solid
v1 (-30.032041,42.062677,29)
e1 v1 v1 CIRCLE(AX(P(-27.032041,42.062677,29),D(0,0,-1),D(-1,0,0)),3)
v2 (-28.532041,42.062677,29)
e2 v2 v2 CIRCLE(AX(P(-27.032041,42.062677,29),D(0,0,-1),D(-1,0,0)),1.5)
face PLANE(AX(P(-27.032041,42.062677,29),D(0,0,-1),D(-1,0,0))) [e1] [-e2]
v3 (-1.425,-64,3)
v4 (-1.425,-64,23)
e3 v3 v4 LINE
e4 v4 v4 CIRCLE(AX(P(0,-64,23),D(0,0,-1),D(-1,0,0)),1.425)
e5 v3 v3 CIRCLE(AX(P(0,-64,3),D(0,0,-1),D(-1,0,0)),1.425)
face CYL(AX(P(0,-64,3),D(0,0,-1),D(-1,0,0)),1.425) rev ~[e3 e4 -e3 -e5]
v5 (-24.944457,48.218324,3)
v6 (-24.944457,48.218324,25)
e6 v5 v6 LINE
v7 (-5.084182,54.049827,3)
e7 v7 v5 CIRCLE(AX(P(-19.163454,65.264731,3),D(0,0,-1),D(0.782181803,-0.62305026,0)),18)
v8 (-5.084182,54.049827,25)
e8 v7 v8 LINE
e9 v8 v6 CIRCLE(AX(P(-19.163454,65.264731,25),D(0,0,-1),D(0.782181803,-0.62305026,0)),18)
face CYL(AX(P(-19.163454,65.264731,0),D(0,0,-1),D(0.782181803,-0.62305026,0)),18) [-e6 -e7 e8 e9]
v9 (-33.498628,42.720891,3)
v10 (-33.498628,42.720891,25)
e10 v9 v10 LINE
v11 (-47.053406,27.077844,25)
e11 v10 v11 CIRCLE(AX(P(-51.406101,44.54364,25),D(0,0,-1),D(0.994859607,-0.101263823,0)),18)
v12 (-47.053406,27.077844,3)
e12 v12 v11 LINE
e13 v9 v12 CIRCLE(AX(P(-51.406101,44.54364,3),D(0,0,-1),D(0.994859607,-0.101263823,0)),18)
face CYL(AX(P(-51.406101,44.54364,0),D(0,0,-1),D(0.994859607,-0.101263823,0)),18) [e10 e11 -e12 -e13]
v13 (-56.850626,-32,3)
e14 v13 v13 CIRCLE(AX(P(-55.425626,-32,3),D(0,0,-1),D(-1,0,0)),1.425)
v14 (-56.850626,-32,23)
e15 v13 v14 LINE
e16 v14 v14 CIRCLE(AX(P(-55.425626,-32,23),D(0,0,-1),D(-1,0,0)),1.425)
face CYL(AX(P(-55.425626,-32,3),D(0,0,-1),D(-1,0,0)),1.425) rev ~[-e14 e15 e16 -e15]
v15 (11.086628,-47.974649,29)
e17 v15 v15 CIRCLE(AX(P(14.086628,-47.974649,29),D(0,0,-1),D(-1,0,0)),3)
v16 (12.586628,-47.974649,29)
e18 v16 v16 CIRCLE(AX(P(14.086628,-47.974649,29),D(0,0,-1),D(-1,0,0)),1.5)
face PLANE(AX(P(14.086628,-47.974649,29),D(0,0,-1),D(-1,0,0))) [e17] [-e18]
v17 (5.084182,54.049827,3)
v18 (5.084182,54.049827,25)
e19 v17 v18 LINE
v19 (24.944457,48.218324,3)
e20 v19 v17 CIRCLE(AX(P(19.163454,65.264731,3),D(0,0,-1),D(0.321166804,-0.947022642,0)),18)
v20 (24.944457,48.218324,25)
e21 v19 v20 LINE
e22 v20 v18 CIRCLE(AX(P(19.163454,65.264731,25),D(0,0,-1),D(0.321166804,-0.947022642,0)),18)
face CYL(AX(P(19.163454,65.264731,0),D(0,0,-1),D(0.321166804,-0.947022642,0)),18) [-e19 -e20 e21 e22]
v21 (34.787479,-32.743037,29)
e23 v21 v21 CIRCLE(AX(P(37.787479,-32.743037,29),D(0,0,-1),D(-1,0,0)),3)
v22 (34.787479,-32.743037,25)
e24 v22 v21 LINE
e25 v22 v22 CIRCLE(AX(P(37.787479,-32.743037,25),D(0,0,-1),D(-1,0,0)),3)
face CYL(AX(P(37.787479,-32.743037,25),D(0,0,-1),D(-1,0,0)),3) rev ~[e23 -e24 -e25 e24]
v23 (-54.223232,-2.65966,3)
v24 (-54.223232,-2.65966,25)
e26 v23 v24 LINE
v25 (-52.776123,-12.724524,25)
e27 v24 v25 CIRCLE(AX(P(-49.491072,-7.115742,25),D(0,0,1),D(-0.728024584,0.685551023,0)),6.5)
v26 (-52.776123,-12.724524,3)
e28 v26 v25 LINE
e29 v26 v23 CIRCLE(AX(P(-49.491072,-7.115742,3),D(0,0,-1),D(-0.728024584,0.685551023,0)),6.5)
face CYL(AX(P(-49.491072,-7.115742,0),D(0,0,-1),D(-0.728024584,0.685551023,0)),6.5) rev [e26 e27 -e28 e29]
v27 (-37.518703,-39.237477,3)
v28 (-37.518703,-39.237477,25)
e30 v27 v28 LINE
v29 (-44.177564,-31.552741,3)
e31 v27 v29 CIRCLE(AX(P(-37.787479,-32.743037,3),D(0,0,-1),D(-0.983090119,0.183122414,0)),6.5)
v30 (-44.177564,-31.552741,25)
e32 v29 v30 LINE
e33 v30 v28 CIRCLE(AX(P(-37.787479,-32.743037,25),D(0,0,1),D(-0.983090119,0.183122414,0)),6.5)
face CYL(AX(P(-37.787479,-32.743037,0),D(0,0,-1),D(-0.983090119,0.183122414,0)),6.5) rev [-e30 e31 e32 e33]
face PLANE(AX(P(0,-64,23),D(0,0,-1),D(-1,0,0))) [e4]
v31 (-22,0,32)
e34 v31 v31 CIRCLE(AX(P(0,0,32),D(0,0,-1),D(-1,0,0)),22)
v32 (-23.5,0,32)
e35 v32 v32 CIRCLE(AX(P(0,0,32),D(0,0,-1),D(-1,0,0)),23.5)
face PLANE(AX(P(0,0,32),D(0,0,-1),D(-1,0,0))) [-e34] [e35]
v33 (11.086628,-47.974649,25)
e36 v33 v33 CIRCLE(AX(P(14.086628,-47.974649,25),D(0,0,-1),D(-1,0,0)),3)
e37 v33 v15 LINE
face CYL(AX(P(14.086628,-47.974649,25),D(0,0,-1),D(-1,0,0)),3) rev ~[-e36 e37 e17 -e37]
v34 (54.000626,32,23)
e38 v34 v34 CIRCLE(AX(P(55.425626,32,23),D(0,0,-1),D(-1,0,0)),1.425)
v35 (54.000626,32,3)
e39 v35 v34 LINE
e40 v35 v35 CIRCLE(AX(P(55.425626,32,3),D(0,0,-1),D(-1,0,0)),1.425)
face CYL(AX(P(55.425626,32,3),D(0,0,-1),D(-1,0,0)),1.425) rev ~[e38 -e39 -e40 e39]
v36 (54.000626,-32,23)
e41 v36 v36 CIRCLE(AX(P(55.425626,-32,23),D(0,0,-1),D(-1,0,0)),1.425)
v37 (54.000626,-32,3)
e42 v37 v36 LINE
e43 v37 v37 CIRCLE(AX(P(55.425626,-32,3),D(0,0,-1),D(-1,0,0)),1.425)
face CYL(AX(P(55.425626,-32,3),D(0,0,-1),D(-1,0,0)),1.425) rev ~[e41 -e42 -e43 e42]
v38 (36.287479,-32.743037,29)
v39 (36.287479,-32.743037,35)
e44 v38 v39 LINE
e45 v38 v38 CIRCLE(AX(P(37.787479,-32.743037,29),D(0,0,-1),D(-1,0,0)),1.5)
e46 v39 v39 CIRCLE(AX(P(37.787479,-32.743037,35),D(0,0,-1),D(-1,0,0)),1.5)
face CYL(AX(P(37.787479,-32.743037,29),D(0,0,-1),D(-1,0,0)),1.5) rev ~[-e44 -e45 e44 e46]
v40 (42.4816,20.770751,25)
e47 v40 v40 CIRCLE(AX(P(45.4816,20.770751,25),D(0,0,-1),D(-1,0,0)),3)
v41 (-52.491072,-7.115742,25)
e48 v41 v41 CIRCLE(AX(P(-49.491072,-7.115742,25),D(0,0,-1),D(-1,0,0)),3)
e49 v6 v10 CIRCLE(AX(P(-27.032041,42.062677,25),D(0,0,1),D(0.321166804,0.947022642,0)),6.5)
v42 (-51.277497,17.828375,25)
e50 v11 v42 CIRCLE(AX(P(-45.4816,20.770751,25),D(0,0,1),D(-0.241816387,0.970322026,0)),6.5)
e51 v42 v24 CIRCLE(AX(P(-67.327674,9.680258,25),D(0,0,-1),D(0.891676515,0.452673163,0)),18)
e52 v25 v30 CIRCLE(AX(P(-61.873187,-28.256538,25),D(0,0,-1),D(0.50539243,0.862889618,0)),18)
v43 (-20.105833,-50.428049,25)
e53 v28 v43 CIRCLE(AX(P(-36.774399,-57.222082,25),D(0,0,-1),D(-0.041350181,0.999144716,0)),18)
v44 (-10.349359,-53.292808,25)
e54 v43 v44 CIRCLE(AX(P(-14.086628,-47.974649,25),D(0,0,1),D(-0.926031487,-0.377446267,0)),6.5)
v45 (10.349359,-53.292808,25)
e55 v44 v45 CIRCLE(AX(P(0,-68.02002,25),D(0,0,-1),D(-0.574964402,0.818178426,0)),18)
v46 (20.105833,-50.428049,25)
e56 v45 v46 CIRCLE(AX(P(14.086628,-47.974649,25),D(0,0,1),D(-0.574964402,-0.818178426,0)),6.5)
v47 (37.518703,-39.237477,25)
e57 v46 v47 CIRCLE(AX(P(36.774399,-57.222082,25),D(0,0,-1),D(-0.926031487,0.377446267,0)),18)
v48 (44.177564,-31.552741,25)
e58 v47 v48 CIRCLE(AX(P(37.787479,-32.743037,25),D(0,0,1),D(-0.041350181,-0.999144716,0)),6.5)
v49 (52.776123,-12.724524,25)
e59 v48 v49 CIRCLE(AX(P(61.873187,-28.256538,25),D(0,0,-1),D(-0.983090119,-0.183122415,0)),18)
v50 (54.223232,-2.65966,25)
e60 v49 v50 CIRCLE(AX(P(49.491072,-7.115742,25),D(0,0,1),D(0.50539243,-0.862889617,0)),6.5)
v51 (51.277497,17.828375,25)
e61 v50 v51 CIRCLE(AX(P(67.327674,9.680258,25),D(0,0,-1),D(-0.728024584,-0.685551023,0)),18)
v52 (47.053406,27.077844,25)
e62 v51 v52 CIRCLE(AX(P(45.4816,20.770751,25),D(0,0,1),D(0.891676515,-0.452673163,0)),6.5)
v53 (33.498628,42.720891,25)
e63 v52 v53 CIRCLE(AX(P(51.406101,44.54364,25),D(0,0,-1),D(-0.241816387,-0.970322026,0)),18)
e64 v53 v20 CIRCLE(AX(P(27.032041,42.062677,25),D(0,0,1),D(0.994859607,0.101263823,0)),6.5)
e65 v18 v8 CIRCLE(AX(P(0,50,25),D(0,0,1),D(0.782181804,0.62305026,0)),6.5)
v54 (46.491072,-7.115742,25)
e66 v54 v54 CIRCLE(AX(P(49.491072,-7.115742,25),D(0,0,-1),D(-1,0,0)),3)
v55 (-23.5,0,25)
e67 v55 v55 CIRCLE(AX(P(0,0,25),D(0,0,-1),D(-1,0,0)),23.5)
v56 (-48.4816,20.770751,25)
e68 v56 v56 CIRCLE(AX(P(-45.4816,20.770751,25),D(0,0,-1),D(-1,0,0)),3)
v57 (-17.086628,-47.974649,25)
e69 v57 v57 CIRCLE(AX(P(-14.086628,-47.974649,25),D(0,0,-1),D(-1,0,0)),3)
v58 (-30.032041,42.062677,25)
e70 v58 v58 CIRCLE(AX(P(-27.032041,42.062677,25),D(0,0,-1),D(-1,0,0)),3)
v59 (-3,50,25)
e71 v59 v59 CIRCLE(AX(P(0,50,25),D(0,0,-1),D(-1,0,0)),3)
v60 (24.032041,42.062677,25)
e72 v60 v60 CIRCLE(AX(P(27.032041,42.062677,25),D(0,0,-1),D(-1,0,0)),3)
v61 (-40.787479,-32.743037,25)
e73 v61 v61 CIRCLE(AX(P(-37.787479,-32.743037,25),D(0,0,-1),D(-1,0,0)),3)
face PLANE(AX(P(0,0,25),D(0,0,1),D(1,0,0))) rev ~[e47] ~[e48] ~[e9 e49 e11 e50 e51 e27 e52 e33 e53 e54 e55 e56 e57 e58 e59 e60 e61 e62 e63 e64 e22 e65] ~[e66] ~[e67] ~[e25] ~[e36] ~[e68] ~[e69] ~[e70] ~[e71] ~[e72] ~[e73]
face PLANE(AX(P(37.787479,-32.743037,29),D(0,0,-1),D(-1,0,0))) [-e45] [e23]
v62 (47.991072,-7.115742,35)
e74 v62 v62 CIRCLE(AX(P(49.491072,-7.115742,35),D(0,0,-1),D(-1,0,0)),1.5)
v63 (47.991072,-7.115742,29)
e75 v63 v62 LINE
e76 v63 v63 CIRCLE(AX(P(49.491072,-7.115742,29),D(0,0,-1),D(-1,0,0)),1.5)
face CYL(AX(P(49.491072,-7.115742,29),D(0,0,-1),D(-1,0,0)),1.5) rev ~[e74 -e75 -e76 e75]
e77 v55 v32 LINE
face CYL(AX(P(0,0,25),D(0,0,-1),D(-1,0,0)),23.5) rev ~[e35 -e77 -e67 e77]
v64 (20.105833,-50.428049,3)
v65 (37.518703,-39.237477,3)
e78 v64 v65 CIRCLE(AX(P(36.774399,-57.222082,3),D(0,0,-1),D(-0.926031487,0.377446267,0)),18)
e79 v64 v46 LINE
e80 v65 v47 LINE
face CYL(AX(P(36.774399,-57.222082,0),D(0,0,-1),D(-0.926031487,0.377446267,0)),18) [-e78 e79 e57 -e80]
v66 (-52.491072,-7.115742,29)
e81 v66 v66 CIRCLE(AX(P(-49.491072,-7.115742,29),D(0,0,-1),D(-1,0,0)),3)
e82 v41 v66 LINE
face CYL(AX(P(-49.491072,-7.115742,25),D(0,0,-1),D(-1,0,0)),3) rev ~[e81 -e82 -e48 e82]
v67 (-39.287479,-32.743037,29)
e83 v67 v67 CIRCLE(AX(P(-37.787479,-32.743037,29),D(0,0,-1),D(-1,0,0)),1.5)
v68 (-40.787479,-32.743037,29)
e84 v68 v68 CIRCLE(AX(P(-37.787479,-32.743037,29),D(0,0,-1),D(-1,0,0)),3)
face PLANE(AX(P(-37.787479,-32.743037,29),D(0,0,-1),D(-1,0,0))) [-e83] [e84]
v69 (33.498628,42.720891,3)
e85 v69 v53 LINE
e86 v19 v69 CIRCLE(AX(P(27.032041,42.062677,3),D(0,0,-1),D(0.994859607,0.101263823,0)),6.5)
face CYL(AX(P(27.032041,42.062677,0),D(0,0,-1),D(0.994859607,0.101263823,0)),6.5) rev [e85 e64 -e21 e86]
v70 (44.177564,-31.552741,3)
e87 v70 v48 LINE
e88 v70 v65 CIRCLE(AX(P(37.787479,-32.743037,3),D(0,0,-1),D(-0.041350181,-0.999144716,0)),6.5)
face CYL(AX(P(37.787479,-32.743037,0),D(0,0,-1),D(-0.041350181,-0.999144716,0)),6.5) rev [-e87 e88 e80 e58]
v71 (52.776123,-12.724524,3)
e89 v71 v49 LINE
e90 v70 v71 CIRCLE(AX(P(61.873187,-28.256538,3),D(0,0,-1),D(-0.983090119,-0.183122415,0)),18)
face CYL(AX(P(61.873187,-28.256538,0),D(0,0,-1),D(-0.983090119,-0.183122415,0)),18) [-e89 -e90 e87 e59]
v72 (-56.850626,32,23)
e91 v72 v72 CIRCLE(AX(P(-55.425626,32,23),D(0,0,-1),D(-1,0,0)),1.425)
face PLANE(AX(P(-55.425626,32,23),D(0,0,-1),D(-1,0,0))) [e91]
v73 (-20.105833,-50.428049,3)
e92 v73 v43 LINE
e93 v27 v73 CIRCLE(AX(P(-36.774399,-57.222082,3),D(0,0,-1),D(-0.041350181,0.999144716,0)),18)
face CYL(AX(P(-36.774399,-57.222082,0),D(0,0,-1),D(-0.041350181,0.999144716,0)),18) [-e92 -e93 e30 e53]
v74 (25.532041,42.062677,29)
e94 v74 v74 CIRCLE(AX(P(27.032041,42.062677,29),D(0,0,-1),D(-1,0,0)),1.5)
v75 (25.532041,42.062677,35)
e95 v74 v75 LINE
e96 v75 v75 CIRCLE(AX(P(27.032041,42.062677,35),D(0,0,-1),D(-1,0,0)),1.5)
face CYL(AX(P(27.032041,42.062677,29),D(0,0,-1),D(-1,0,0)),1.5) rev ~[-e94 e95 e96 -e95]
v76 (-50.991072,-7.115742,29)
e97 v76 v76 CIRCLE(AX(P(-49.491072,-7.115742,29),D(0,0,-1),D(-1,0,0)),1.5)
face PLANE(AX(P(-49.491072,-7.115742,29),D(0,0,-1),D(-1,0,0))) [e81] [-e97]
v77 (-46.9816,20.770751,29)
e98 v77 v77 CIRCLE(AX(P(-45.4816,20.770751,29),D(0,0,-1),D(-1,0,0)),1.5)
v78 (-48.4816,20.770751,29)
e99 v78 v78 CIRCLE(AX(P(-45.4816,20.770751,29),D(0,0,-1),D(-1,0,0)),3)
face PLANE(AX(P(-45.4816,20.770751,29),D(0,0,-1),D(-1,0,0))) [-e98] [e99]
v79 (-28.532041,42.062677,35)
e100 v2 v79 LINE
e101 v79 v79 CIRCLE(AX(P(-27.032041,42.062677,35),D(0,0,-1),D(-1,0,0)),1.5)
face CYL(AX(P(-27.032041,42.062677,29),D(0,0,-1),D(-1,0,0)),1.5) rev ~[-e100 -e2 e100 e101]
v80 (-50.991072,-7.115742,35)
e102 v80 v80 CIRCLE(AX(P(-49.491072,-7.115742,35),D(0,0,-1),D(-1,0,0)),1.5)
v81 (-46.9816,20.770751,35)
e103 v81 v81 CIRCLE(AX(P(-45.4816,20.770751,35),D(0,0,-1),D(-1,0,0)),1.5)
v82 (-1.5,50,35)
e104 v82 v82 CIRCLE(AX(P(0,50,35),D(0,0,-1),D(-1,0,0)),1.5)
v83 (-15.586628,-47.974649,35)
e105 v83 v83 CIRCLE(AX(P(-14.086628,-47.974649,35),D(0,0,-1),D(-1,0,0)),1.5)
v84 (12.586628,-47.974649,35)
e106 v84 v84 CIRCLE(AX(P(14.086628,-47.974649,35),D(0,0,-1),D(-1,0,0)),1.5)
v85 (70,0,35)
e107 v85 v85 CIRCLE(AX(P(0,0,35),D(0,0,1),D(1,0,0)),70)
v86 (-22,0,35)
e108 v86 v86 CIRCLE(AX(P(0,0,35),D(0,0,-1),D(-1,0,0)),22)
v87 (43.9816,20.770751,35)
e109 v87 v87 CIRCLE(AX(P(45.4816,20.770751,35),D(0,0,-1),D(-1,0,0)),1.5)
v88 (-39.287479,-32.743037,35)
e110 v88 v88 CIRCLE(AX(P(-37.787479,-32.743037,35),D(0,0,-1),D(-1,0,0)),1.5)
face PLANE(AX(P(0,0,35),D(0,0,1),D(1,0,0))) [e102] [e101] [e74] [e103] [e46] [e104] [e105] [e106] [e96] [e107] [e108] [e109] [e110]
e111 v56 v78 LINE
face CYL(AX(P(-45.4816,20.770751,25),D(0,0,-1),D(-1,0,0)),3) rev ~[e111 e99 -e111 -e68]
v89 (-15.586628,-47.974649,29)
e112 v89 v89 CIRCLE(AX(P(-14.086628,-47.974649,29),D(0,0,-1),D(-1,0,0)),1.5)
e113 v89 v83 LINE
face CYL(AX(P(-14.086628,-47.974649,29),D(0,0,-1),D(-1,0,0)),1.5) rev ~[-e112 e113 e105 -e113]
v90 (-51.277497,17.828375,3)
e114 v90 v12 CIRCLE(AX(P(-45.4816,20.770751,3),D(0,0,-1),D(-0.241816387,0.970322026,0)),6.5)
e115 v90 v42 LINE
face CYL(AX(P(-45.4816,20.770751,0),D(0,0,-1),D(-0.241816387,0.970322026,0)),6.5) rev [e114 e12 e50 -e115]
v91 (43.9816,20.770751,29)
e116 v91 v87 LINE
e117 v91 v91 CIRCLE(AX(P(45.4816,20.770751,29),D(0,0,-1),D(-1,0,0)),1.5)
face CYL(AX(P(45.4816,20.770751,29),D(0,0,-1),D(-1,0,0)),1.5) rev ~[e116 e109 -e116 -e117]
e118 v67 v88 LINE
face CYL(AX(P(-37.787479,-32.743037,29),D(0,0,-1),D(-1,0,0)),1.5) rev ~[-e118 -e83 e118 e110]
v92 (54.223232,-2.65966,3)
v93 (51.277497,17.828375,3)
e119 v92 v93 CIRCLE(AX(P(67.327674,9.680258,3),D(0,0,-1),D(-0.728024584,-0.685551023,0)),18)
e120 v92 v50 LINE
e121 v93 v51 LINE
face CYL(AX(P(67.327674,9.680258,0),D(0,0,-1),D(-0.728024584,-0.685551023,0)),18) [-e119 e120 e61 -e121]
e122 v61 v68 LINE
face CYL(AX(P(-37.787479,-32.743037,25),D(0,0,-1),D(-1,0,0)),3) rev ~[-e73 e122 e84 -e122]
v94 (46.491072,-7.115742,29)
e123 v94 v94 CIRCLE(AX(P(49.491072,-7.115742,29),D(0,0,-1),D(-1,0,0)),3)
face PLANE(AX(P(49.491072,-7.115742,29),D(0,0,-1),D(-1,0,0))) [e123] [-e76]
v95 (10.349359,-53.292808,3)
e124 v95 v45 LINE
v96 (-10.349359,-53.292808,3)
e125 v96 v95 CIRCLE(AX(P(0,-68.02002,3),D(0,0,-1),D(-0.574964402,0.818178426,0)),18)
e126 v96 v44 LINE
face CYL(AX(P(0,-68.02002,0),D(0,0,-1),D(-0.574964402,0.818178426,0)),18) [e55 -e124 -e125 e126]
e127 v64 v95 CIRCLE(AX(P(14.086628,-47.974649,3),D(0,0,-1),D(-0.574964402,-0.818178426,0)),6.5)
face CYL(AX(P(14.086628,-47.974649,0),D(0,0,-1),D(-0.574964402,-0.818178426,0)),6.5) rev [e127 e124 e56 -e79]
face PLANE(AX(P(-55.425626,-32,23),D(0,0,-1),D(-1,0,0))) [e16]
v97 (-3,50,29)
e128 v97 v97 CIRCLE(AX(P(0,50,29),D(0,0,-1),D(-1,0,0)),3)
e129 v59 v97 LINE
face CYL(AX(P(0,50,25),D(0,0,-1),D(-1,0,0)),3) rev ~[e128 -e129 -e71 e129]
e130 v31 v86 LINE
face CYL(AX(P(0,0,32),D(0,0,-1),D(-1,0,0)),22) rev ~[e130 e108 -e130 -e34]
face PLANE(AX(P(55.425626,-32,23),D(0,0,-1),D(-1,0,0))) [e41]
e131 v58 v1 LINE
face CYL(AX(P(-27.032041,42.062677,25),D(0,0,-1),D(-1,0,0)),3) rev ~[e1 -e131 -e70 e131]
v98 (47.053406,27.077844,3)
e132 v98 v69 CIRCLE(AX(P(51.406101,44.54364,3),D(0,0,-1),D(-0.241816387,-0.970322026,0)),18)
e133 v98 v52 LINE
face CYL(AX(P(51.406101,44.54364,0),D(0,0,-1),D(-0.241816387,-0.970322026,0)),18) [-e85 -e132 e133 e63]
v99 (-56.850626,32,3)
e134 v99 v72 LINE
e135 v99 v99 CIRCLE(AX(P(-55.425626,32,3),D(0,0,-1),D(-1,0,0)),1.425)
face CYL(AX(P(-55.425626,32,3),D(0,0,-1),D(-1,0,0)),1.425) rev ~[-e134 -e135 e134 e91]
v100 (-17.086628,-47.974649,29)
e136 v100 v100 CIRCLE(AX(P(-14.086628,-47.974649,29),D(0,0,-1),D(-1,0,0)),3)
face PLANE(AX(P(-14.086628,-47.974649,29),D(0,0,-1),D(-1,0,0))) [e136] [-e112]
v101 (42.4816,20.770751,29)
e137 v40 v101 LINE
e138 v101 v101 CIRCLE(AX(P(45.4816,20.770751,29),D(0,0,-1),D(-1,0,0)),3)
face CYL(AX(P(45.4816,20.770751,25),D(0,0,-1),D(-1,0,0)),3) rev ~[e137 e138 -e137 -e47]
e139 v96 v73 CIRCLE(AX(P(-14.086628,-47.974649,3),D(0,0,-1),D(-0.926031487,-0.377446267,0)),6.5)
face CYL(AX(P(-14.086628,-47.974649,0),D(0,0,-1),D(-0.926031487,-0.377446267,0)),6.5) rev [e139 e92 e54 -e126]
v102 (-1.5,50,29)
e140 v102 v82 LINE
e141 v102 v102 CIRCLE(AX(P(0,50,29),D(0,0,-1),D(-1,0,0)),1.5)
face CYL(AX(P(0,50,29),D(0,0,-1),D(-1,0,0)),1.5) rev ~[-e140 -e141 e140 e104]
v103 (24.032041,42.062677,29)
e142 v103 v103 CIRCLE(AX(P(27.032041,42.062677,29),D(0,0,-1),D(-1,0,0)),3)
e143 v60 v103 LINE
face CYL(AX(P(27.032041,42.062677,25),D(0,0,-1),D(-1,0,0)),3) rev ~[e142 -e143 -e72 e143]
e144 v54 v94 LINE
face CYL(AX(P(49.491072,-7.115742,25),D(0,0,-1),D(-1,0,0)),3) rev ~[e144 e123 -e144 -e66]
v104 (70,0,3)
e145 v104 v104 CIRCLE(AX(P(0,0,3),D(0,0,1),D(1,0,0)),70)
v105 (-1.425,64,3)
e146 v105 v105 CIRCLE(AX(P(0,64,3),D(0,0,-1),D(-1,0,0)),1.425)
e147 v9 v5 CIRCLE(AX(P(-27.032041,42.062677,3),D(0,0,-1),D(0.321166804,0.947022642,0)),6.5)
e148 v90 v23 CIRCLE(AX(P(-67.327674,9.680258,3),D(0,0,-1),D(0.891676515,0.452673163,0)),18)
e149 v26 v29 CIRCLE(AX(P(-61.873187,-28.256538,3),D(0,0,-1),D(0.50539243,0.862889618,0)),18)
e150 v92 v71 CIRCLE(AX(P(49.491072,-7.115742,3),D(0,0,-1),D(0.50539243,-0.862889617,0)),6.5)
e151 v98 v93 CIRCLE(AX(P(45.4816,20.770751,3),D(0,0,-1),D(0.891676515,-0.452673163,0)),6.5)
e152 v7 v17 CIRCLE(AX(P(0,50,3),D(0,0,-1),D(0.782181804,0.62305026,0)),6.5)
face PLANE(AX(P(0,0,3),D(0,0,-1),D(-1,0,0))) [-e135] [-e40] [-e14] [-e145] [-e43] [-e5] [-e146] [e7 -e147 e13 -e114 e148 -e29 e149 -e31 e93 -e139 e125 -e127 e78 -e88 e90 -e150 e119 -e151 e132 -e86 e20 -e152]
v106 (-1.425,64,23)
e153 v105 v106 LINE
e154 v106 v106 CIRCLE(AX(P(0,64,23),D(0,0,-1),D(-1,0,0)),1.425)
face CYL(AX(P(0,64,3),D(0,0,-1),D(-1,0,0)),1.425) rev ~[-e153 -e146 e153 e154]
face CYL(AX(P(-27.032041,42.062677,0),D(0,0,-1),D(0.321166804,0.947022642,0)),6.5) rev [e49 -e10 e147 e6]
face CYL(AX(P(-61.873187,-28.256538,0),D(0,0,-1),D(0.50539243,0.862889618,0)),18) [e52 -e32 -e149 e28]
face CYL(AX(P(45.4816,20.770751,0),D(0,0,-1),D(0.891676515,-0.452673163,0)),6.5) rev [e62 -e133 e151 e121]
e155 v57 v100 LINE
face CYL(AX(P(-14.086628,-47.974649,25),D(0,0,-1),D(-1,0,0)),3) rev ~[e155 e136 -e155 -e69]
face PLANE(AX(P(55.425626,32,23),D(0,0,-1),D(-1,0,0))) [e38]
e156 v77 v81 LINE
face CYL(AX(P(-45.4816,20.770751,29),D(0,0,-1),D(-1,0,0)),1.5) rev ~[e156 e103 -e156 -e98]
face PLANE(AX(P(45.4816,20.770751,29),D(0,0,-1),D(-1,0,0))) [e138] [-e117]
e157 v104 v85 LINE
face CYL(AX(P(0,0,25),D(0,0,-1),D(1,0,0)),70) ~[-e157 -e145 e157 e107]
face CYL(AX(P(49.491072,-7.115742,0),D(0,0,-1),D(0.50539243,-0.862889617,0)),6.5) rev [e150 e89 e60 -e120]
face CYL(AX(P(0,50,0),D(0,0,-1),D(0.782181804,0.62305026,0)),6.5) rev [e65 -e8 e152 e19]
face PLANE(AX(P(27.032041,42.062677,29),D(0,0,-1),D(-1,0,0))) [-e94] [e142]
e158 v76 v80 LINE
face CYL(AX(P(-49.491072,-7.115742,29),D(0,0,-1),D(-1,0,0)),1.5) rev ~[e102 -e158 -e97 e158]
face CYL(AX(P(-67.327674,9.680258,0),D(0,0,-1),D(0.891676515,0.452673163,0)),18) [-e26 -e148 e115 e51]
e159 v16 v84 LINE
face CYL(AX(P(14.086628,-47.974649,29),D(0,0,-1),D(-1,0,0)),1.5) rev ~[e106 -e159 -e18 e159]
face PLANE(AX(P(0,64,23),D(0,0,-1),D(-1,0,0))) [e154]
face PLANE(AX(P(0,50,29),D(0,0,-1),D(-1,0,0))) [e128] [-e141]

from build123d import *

# Parameters (mm, degrees)
SKETCH1_R           = 70
BOSS_EXTRUDE2_DEPTH = 25
SKETCH3_R           = 70
BOSS_EXTRUDE3_DEPTH = 10
SKETCH4_R           = 3
CUT_EXTRUDE1_DEPTH  = 4
SKETCH5_R           = 23.5
CUT_EXTRUDE2_DEPTH  = 7
SKETCH6_R           = 1.5
CUT_EXTRUDE3_DEPTH  = 7
SKETCH7_R           = 22
CUT_EXTRUDE4_DEPTH  = 7
SKETCH8_R           = 70
CUT_EXTRUDE5_DEPTH  = 3
SKETCH9_R           = 1.425
CUT_EXTRUDE6_DEPTH  = 20


with BuildPart() as part:
    # Sketch1 → Boss-Extrude2 (new body)
    with BuildSketch(Plane.XY):
        Circle(SKETCH1_R)
        with BuildLine():
            ThreePointArc((5.084181722, 54.049826689), (0, 56.5), (-5.084181722, 54.049826689))
            ThreePointArc((-5.084181722, 54.049826689), (-14.092268161, 47.993857843), (-24.944456649, 48.218323814))
            ThreePointArc((-24.944456649, 48.218323814), (-30.546206186, 47.530824605), (-33.49862832, 42.720891489))
            ThreePointArc((-33.49862832, 42.720891489), (-37.802608913, 32.756147086), (-47.053406284, 27.077843822))
            ThreePointArc((-47.053406284, 27.077843822), (-51.394207738, 23.470948235), (-51.277497116, 17.828375092))
            ThreePointArc((-51.277497116, 17.828375092), (-49.510888436, 7.118591073), (-54.223231887, -2.659660261))
            ThreePointArc((-54.223231887, -2.659660261), (-55.924911466, -8.040788362), (-52.776122888, -12.724524427))
            ThreePointArc((-52.776122888, -12.724524427), (-45.499810707, -20.779067307), (-44.177564489, -31.552741003))
            ThreePointArc((-44.177564489, -31.552741003), (-42.699850951, -36.999631468), (-37.51870254, -39.237477348))
            ThreePointArc((-37.51870254, -39.237477348), (-27.042864565, -42.079518636), (-20.105832509, -50.428049418))
            ThreePointArc((-20.105832509, -50.428049418), (-15.917889462, -54.211353009), (-10.349359231, -53.29280845))
            ThreePointArc((-10.349359231, -53.29280845), (0, -50.020020118), (10.349359231, -53.29280845))
            ThreePointArc((10.349359231, -53.29280845), (15.917889462, -54.211353009), (20.105832509, -50.428049418))
            ThreePointArc((20.105832509, -50.428049418), (27.042864565, -42.079518636), (37.51870254, -39.237477348))
            ThreePointArc((37.51870254, -39.237477348), (42.699850951, -36.999631468), (44.177564489, -31.552741003))
            ThreePointArc((44.177564489, -31.552741003), (45.499810707, -20.779067307), (52.776122888, -12.724524427))
            ThreePointArc((52.776122888, -12.724524427), (55.924911466, -8.040788362), (54.223231887, -2.659660261))
            ThreePointArc((54.223231887, -2.659660261), (49.510888436, 7.118591073), (51.277497116, 17.828375092))
            ThreePointArc((51.277497116, 17.828375092), (51.394207738, 23.470948235), (47.053406284, 27.077843822))
            ThreePointArc((47.053406284, 27.077843822), (37.802608913, 32.756147086), (33.49862832, 42.720891489))
            ThreePointArc((33.49862832, 42.720891489), (30.546206186, 47.530824605), (24.944456649, 48.218323814))
            ThreePointArc((24.944456649, 48.218323814), (14.092268161, 47.993857843), (5.084181722, 54.049826689))
        make_face(mode=Mode.SUBTRACT)
    extrude(amount=BOSS_EXTRUDE2_DEPTH)

    # Sketch3 → Boss-Extrude3 (add)
    with BuildSketch(Plane.XY.offset(25)):
        Circle(SKETCH3_R)
    extrude(amount=BOSS_EXTRUDE3_DEPTH)

    # Sketch4 → Cut-Extrude1 (cut)
    with BuildSketch(Plane(origin=(0, 0, 25), x_dir=(-1, 0, 0), z_dir=(0, 0, -1))):
        with Locations((0, 50)):
            Circle(SKETCH4_R)
        with Locations((27.032040873, 42.062676642)):
            Circle(SKETCH4_R)
        with Locations((45.481599768, 20.77075065)):
            Circle(SKETCH4_R)
        with Locations((49.491072094, -7.115741914)):
            Circle(SKETCH4_R)
        with Locations((37.787478718, -32.743036697)):
            Circle(SKETCH4_R)
        with Locations((14.086627842, -47.974648681)):
            Circle(SKETCH4_R)
        with Locations((-14.086627842, -47.974648681)):
            Circle(SKETCH4_R)
        with Locations((-37.787478718, -32.743036697)):
            Circle(SKETCH4_R)
        with Locations((-49.491072094, -7.115741914)):
            Circle(SKETCH4_R)
        with Locations((-45.481599768, 20.77075065)):
            Circle(SKETCH4_R)
        with Locations((-27.032040873, 42.062676642)):
            Circle(SKETCH4_R)
    extrude(amount=-CUT_EXTRUDE1_DEPTH, mode=Mode.SUBTRACT)

    # Sketch5 → Cut-Extrude2 (cut)
    with BuildSketch(Plane(origin=(0, 0, 25), x_dir=(-1, 0, 0), z_dir=(0, 0, -1))):
        Circle(SKETCH5_R)
    extrude(amount=-CUT_EXTRUDE2_DEPTH, mode=Mode.SUBTRACT)

    # Sketch6 → Cut-Extrude3 (cut)
    with BuildSketch(Plane(origin=(0, 0, 29), x_dir=(-1, 0, 0), z_dir=(0, 0, -1))):
        with Locations((0, 50)):
            Circle(SKETCH6_R)
        with Locations((27.032040873, 42.062676642)):
            Circle(SKETCH6_R)
        with Locations((45.481599768, 20.77075065)):
            Circle(SKETCH6_R)
        with Locations((49.491072094, -7.115741914)):
            Circle(SKETCH6_R)
        with Locations((37.787478718, -32.743036697)):
            Circle(SKETCH6_R)
        with Locations((14.086627842, -47.974648681)):
            Circle(SKETCH6_R)
        with Locations((-14.086627842, -47.974648681)):
            Circle(SKETCH6_R)
        with Locations((-37.787478718, -32.743036697)):
            Circle(SKETCH6_R)
        with Locations((-49.491072094, -7.115741914)):
            Circle(SKETCH6_R)
        with Locations((-45.481599768, 20.77075065)):
            Circle(SKETCH6_R)
        with Locations((-27.032040873, 42.062676642)):
            Circle(SKETCH6_R)
    extrude(amount=-CUT_EXTRUDE3_DEPTH, mode=Mode.SUBTRACT)

    # Sketch7 → Cut-Extrude4 (cut)
    with BuildSketch(Plane(origin=(0, 0, 32), x_dir=(-1, 0, 0), z_dir=(0, 0, -1))):
        Circle(SKETCH7_R)
    extrude(amount=-CUT_EXTRUDE4_DEPTH, mode=Mode.SUBTRACT)

    # Sketch8 → Cut-Extrude5 (cut)
    with BuildSketch(Plane(origin=(0, 0, 0), x_dir=(-1, 0, 0), z_dir=(0, 0, -1))):
        Circle(SKETCH8_R)
    extrude(amount=-CUT_EXTRUDE5_DEPTH, mode=Mode.SUBTRACT)

    # Sketch9 → Cut-Extrude6 (cut)
    with BuildSketch(Plane(origin=(0, 0, 3), x_dir=(-1, 0, 0), z_dir=(0, 0, -1))):
        with Locations((0, 64)):
            Circle(SKETCH9_R)
        with Locations((55.425625842, 32)):
            Circle(SKETCH9_R)
        with Locations((55.425625842, -32)):
            Circle(SKETCH9_R)
        with Locations((0, -64)):
            Circle(SKETCH9_R)
        with Locations((-55.425625842, -32)):
            Circle(SKETCH9_R)
        with Locations((-55.425625842, 32)):
            Circle(SKETCH9_R)
    extrude(amount=-CUT_EXTRUDE6_DEPTH, mode=Mode.SUBTRACT)


solid = part.part
